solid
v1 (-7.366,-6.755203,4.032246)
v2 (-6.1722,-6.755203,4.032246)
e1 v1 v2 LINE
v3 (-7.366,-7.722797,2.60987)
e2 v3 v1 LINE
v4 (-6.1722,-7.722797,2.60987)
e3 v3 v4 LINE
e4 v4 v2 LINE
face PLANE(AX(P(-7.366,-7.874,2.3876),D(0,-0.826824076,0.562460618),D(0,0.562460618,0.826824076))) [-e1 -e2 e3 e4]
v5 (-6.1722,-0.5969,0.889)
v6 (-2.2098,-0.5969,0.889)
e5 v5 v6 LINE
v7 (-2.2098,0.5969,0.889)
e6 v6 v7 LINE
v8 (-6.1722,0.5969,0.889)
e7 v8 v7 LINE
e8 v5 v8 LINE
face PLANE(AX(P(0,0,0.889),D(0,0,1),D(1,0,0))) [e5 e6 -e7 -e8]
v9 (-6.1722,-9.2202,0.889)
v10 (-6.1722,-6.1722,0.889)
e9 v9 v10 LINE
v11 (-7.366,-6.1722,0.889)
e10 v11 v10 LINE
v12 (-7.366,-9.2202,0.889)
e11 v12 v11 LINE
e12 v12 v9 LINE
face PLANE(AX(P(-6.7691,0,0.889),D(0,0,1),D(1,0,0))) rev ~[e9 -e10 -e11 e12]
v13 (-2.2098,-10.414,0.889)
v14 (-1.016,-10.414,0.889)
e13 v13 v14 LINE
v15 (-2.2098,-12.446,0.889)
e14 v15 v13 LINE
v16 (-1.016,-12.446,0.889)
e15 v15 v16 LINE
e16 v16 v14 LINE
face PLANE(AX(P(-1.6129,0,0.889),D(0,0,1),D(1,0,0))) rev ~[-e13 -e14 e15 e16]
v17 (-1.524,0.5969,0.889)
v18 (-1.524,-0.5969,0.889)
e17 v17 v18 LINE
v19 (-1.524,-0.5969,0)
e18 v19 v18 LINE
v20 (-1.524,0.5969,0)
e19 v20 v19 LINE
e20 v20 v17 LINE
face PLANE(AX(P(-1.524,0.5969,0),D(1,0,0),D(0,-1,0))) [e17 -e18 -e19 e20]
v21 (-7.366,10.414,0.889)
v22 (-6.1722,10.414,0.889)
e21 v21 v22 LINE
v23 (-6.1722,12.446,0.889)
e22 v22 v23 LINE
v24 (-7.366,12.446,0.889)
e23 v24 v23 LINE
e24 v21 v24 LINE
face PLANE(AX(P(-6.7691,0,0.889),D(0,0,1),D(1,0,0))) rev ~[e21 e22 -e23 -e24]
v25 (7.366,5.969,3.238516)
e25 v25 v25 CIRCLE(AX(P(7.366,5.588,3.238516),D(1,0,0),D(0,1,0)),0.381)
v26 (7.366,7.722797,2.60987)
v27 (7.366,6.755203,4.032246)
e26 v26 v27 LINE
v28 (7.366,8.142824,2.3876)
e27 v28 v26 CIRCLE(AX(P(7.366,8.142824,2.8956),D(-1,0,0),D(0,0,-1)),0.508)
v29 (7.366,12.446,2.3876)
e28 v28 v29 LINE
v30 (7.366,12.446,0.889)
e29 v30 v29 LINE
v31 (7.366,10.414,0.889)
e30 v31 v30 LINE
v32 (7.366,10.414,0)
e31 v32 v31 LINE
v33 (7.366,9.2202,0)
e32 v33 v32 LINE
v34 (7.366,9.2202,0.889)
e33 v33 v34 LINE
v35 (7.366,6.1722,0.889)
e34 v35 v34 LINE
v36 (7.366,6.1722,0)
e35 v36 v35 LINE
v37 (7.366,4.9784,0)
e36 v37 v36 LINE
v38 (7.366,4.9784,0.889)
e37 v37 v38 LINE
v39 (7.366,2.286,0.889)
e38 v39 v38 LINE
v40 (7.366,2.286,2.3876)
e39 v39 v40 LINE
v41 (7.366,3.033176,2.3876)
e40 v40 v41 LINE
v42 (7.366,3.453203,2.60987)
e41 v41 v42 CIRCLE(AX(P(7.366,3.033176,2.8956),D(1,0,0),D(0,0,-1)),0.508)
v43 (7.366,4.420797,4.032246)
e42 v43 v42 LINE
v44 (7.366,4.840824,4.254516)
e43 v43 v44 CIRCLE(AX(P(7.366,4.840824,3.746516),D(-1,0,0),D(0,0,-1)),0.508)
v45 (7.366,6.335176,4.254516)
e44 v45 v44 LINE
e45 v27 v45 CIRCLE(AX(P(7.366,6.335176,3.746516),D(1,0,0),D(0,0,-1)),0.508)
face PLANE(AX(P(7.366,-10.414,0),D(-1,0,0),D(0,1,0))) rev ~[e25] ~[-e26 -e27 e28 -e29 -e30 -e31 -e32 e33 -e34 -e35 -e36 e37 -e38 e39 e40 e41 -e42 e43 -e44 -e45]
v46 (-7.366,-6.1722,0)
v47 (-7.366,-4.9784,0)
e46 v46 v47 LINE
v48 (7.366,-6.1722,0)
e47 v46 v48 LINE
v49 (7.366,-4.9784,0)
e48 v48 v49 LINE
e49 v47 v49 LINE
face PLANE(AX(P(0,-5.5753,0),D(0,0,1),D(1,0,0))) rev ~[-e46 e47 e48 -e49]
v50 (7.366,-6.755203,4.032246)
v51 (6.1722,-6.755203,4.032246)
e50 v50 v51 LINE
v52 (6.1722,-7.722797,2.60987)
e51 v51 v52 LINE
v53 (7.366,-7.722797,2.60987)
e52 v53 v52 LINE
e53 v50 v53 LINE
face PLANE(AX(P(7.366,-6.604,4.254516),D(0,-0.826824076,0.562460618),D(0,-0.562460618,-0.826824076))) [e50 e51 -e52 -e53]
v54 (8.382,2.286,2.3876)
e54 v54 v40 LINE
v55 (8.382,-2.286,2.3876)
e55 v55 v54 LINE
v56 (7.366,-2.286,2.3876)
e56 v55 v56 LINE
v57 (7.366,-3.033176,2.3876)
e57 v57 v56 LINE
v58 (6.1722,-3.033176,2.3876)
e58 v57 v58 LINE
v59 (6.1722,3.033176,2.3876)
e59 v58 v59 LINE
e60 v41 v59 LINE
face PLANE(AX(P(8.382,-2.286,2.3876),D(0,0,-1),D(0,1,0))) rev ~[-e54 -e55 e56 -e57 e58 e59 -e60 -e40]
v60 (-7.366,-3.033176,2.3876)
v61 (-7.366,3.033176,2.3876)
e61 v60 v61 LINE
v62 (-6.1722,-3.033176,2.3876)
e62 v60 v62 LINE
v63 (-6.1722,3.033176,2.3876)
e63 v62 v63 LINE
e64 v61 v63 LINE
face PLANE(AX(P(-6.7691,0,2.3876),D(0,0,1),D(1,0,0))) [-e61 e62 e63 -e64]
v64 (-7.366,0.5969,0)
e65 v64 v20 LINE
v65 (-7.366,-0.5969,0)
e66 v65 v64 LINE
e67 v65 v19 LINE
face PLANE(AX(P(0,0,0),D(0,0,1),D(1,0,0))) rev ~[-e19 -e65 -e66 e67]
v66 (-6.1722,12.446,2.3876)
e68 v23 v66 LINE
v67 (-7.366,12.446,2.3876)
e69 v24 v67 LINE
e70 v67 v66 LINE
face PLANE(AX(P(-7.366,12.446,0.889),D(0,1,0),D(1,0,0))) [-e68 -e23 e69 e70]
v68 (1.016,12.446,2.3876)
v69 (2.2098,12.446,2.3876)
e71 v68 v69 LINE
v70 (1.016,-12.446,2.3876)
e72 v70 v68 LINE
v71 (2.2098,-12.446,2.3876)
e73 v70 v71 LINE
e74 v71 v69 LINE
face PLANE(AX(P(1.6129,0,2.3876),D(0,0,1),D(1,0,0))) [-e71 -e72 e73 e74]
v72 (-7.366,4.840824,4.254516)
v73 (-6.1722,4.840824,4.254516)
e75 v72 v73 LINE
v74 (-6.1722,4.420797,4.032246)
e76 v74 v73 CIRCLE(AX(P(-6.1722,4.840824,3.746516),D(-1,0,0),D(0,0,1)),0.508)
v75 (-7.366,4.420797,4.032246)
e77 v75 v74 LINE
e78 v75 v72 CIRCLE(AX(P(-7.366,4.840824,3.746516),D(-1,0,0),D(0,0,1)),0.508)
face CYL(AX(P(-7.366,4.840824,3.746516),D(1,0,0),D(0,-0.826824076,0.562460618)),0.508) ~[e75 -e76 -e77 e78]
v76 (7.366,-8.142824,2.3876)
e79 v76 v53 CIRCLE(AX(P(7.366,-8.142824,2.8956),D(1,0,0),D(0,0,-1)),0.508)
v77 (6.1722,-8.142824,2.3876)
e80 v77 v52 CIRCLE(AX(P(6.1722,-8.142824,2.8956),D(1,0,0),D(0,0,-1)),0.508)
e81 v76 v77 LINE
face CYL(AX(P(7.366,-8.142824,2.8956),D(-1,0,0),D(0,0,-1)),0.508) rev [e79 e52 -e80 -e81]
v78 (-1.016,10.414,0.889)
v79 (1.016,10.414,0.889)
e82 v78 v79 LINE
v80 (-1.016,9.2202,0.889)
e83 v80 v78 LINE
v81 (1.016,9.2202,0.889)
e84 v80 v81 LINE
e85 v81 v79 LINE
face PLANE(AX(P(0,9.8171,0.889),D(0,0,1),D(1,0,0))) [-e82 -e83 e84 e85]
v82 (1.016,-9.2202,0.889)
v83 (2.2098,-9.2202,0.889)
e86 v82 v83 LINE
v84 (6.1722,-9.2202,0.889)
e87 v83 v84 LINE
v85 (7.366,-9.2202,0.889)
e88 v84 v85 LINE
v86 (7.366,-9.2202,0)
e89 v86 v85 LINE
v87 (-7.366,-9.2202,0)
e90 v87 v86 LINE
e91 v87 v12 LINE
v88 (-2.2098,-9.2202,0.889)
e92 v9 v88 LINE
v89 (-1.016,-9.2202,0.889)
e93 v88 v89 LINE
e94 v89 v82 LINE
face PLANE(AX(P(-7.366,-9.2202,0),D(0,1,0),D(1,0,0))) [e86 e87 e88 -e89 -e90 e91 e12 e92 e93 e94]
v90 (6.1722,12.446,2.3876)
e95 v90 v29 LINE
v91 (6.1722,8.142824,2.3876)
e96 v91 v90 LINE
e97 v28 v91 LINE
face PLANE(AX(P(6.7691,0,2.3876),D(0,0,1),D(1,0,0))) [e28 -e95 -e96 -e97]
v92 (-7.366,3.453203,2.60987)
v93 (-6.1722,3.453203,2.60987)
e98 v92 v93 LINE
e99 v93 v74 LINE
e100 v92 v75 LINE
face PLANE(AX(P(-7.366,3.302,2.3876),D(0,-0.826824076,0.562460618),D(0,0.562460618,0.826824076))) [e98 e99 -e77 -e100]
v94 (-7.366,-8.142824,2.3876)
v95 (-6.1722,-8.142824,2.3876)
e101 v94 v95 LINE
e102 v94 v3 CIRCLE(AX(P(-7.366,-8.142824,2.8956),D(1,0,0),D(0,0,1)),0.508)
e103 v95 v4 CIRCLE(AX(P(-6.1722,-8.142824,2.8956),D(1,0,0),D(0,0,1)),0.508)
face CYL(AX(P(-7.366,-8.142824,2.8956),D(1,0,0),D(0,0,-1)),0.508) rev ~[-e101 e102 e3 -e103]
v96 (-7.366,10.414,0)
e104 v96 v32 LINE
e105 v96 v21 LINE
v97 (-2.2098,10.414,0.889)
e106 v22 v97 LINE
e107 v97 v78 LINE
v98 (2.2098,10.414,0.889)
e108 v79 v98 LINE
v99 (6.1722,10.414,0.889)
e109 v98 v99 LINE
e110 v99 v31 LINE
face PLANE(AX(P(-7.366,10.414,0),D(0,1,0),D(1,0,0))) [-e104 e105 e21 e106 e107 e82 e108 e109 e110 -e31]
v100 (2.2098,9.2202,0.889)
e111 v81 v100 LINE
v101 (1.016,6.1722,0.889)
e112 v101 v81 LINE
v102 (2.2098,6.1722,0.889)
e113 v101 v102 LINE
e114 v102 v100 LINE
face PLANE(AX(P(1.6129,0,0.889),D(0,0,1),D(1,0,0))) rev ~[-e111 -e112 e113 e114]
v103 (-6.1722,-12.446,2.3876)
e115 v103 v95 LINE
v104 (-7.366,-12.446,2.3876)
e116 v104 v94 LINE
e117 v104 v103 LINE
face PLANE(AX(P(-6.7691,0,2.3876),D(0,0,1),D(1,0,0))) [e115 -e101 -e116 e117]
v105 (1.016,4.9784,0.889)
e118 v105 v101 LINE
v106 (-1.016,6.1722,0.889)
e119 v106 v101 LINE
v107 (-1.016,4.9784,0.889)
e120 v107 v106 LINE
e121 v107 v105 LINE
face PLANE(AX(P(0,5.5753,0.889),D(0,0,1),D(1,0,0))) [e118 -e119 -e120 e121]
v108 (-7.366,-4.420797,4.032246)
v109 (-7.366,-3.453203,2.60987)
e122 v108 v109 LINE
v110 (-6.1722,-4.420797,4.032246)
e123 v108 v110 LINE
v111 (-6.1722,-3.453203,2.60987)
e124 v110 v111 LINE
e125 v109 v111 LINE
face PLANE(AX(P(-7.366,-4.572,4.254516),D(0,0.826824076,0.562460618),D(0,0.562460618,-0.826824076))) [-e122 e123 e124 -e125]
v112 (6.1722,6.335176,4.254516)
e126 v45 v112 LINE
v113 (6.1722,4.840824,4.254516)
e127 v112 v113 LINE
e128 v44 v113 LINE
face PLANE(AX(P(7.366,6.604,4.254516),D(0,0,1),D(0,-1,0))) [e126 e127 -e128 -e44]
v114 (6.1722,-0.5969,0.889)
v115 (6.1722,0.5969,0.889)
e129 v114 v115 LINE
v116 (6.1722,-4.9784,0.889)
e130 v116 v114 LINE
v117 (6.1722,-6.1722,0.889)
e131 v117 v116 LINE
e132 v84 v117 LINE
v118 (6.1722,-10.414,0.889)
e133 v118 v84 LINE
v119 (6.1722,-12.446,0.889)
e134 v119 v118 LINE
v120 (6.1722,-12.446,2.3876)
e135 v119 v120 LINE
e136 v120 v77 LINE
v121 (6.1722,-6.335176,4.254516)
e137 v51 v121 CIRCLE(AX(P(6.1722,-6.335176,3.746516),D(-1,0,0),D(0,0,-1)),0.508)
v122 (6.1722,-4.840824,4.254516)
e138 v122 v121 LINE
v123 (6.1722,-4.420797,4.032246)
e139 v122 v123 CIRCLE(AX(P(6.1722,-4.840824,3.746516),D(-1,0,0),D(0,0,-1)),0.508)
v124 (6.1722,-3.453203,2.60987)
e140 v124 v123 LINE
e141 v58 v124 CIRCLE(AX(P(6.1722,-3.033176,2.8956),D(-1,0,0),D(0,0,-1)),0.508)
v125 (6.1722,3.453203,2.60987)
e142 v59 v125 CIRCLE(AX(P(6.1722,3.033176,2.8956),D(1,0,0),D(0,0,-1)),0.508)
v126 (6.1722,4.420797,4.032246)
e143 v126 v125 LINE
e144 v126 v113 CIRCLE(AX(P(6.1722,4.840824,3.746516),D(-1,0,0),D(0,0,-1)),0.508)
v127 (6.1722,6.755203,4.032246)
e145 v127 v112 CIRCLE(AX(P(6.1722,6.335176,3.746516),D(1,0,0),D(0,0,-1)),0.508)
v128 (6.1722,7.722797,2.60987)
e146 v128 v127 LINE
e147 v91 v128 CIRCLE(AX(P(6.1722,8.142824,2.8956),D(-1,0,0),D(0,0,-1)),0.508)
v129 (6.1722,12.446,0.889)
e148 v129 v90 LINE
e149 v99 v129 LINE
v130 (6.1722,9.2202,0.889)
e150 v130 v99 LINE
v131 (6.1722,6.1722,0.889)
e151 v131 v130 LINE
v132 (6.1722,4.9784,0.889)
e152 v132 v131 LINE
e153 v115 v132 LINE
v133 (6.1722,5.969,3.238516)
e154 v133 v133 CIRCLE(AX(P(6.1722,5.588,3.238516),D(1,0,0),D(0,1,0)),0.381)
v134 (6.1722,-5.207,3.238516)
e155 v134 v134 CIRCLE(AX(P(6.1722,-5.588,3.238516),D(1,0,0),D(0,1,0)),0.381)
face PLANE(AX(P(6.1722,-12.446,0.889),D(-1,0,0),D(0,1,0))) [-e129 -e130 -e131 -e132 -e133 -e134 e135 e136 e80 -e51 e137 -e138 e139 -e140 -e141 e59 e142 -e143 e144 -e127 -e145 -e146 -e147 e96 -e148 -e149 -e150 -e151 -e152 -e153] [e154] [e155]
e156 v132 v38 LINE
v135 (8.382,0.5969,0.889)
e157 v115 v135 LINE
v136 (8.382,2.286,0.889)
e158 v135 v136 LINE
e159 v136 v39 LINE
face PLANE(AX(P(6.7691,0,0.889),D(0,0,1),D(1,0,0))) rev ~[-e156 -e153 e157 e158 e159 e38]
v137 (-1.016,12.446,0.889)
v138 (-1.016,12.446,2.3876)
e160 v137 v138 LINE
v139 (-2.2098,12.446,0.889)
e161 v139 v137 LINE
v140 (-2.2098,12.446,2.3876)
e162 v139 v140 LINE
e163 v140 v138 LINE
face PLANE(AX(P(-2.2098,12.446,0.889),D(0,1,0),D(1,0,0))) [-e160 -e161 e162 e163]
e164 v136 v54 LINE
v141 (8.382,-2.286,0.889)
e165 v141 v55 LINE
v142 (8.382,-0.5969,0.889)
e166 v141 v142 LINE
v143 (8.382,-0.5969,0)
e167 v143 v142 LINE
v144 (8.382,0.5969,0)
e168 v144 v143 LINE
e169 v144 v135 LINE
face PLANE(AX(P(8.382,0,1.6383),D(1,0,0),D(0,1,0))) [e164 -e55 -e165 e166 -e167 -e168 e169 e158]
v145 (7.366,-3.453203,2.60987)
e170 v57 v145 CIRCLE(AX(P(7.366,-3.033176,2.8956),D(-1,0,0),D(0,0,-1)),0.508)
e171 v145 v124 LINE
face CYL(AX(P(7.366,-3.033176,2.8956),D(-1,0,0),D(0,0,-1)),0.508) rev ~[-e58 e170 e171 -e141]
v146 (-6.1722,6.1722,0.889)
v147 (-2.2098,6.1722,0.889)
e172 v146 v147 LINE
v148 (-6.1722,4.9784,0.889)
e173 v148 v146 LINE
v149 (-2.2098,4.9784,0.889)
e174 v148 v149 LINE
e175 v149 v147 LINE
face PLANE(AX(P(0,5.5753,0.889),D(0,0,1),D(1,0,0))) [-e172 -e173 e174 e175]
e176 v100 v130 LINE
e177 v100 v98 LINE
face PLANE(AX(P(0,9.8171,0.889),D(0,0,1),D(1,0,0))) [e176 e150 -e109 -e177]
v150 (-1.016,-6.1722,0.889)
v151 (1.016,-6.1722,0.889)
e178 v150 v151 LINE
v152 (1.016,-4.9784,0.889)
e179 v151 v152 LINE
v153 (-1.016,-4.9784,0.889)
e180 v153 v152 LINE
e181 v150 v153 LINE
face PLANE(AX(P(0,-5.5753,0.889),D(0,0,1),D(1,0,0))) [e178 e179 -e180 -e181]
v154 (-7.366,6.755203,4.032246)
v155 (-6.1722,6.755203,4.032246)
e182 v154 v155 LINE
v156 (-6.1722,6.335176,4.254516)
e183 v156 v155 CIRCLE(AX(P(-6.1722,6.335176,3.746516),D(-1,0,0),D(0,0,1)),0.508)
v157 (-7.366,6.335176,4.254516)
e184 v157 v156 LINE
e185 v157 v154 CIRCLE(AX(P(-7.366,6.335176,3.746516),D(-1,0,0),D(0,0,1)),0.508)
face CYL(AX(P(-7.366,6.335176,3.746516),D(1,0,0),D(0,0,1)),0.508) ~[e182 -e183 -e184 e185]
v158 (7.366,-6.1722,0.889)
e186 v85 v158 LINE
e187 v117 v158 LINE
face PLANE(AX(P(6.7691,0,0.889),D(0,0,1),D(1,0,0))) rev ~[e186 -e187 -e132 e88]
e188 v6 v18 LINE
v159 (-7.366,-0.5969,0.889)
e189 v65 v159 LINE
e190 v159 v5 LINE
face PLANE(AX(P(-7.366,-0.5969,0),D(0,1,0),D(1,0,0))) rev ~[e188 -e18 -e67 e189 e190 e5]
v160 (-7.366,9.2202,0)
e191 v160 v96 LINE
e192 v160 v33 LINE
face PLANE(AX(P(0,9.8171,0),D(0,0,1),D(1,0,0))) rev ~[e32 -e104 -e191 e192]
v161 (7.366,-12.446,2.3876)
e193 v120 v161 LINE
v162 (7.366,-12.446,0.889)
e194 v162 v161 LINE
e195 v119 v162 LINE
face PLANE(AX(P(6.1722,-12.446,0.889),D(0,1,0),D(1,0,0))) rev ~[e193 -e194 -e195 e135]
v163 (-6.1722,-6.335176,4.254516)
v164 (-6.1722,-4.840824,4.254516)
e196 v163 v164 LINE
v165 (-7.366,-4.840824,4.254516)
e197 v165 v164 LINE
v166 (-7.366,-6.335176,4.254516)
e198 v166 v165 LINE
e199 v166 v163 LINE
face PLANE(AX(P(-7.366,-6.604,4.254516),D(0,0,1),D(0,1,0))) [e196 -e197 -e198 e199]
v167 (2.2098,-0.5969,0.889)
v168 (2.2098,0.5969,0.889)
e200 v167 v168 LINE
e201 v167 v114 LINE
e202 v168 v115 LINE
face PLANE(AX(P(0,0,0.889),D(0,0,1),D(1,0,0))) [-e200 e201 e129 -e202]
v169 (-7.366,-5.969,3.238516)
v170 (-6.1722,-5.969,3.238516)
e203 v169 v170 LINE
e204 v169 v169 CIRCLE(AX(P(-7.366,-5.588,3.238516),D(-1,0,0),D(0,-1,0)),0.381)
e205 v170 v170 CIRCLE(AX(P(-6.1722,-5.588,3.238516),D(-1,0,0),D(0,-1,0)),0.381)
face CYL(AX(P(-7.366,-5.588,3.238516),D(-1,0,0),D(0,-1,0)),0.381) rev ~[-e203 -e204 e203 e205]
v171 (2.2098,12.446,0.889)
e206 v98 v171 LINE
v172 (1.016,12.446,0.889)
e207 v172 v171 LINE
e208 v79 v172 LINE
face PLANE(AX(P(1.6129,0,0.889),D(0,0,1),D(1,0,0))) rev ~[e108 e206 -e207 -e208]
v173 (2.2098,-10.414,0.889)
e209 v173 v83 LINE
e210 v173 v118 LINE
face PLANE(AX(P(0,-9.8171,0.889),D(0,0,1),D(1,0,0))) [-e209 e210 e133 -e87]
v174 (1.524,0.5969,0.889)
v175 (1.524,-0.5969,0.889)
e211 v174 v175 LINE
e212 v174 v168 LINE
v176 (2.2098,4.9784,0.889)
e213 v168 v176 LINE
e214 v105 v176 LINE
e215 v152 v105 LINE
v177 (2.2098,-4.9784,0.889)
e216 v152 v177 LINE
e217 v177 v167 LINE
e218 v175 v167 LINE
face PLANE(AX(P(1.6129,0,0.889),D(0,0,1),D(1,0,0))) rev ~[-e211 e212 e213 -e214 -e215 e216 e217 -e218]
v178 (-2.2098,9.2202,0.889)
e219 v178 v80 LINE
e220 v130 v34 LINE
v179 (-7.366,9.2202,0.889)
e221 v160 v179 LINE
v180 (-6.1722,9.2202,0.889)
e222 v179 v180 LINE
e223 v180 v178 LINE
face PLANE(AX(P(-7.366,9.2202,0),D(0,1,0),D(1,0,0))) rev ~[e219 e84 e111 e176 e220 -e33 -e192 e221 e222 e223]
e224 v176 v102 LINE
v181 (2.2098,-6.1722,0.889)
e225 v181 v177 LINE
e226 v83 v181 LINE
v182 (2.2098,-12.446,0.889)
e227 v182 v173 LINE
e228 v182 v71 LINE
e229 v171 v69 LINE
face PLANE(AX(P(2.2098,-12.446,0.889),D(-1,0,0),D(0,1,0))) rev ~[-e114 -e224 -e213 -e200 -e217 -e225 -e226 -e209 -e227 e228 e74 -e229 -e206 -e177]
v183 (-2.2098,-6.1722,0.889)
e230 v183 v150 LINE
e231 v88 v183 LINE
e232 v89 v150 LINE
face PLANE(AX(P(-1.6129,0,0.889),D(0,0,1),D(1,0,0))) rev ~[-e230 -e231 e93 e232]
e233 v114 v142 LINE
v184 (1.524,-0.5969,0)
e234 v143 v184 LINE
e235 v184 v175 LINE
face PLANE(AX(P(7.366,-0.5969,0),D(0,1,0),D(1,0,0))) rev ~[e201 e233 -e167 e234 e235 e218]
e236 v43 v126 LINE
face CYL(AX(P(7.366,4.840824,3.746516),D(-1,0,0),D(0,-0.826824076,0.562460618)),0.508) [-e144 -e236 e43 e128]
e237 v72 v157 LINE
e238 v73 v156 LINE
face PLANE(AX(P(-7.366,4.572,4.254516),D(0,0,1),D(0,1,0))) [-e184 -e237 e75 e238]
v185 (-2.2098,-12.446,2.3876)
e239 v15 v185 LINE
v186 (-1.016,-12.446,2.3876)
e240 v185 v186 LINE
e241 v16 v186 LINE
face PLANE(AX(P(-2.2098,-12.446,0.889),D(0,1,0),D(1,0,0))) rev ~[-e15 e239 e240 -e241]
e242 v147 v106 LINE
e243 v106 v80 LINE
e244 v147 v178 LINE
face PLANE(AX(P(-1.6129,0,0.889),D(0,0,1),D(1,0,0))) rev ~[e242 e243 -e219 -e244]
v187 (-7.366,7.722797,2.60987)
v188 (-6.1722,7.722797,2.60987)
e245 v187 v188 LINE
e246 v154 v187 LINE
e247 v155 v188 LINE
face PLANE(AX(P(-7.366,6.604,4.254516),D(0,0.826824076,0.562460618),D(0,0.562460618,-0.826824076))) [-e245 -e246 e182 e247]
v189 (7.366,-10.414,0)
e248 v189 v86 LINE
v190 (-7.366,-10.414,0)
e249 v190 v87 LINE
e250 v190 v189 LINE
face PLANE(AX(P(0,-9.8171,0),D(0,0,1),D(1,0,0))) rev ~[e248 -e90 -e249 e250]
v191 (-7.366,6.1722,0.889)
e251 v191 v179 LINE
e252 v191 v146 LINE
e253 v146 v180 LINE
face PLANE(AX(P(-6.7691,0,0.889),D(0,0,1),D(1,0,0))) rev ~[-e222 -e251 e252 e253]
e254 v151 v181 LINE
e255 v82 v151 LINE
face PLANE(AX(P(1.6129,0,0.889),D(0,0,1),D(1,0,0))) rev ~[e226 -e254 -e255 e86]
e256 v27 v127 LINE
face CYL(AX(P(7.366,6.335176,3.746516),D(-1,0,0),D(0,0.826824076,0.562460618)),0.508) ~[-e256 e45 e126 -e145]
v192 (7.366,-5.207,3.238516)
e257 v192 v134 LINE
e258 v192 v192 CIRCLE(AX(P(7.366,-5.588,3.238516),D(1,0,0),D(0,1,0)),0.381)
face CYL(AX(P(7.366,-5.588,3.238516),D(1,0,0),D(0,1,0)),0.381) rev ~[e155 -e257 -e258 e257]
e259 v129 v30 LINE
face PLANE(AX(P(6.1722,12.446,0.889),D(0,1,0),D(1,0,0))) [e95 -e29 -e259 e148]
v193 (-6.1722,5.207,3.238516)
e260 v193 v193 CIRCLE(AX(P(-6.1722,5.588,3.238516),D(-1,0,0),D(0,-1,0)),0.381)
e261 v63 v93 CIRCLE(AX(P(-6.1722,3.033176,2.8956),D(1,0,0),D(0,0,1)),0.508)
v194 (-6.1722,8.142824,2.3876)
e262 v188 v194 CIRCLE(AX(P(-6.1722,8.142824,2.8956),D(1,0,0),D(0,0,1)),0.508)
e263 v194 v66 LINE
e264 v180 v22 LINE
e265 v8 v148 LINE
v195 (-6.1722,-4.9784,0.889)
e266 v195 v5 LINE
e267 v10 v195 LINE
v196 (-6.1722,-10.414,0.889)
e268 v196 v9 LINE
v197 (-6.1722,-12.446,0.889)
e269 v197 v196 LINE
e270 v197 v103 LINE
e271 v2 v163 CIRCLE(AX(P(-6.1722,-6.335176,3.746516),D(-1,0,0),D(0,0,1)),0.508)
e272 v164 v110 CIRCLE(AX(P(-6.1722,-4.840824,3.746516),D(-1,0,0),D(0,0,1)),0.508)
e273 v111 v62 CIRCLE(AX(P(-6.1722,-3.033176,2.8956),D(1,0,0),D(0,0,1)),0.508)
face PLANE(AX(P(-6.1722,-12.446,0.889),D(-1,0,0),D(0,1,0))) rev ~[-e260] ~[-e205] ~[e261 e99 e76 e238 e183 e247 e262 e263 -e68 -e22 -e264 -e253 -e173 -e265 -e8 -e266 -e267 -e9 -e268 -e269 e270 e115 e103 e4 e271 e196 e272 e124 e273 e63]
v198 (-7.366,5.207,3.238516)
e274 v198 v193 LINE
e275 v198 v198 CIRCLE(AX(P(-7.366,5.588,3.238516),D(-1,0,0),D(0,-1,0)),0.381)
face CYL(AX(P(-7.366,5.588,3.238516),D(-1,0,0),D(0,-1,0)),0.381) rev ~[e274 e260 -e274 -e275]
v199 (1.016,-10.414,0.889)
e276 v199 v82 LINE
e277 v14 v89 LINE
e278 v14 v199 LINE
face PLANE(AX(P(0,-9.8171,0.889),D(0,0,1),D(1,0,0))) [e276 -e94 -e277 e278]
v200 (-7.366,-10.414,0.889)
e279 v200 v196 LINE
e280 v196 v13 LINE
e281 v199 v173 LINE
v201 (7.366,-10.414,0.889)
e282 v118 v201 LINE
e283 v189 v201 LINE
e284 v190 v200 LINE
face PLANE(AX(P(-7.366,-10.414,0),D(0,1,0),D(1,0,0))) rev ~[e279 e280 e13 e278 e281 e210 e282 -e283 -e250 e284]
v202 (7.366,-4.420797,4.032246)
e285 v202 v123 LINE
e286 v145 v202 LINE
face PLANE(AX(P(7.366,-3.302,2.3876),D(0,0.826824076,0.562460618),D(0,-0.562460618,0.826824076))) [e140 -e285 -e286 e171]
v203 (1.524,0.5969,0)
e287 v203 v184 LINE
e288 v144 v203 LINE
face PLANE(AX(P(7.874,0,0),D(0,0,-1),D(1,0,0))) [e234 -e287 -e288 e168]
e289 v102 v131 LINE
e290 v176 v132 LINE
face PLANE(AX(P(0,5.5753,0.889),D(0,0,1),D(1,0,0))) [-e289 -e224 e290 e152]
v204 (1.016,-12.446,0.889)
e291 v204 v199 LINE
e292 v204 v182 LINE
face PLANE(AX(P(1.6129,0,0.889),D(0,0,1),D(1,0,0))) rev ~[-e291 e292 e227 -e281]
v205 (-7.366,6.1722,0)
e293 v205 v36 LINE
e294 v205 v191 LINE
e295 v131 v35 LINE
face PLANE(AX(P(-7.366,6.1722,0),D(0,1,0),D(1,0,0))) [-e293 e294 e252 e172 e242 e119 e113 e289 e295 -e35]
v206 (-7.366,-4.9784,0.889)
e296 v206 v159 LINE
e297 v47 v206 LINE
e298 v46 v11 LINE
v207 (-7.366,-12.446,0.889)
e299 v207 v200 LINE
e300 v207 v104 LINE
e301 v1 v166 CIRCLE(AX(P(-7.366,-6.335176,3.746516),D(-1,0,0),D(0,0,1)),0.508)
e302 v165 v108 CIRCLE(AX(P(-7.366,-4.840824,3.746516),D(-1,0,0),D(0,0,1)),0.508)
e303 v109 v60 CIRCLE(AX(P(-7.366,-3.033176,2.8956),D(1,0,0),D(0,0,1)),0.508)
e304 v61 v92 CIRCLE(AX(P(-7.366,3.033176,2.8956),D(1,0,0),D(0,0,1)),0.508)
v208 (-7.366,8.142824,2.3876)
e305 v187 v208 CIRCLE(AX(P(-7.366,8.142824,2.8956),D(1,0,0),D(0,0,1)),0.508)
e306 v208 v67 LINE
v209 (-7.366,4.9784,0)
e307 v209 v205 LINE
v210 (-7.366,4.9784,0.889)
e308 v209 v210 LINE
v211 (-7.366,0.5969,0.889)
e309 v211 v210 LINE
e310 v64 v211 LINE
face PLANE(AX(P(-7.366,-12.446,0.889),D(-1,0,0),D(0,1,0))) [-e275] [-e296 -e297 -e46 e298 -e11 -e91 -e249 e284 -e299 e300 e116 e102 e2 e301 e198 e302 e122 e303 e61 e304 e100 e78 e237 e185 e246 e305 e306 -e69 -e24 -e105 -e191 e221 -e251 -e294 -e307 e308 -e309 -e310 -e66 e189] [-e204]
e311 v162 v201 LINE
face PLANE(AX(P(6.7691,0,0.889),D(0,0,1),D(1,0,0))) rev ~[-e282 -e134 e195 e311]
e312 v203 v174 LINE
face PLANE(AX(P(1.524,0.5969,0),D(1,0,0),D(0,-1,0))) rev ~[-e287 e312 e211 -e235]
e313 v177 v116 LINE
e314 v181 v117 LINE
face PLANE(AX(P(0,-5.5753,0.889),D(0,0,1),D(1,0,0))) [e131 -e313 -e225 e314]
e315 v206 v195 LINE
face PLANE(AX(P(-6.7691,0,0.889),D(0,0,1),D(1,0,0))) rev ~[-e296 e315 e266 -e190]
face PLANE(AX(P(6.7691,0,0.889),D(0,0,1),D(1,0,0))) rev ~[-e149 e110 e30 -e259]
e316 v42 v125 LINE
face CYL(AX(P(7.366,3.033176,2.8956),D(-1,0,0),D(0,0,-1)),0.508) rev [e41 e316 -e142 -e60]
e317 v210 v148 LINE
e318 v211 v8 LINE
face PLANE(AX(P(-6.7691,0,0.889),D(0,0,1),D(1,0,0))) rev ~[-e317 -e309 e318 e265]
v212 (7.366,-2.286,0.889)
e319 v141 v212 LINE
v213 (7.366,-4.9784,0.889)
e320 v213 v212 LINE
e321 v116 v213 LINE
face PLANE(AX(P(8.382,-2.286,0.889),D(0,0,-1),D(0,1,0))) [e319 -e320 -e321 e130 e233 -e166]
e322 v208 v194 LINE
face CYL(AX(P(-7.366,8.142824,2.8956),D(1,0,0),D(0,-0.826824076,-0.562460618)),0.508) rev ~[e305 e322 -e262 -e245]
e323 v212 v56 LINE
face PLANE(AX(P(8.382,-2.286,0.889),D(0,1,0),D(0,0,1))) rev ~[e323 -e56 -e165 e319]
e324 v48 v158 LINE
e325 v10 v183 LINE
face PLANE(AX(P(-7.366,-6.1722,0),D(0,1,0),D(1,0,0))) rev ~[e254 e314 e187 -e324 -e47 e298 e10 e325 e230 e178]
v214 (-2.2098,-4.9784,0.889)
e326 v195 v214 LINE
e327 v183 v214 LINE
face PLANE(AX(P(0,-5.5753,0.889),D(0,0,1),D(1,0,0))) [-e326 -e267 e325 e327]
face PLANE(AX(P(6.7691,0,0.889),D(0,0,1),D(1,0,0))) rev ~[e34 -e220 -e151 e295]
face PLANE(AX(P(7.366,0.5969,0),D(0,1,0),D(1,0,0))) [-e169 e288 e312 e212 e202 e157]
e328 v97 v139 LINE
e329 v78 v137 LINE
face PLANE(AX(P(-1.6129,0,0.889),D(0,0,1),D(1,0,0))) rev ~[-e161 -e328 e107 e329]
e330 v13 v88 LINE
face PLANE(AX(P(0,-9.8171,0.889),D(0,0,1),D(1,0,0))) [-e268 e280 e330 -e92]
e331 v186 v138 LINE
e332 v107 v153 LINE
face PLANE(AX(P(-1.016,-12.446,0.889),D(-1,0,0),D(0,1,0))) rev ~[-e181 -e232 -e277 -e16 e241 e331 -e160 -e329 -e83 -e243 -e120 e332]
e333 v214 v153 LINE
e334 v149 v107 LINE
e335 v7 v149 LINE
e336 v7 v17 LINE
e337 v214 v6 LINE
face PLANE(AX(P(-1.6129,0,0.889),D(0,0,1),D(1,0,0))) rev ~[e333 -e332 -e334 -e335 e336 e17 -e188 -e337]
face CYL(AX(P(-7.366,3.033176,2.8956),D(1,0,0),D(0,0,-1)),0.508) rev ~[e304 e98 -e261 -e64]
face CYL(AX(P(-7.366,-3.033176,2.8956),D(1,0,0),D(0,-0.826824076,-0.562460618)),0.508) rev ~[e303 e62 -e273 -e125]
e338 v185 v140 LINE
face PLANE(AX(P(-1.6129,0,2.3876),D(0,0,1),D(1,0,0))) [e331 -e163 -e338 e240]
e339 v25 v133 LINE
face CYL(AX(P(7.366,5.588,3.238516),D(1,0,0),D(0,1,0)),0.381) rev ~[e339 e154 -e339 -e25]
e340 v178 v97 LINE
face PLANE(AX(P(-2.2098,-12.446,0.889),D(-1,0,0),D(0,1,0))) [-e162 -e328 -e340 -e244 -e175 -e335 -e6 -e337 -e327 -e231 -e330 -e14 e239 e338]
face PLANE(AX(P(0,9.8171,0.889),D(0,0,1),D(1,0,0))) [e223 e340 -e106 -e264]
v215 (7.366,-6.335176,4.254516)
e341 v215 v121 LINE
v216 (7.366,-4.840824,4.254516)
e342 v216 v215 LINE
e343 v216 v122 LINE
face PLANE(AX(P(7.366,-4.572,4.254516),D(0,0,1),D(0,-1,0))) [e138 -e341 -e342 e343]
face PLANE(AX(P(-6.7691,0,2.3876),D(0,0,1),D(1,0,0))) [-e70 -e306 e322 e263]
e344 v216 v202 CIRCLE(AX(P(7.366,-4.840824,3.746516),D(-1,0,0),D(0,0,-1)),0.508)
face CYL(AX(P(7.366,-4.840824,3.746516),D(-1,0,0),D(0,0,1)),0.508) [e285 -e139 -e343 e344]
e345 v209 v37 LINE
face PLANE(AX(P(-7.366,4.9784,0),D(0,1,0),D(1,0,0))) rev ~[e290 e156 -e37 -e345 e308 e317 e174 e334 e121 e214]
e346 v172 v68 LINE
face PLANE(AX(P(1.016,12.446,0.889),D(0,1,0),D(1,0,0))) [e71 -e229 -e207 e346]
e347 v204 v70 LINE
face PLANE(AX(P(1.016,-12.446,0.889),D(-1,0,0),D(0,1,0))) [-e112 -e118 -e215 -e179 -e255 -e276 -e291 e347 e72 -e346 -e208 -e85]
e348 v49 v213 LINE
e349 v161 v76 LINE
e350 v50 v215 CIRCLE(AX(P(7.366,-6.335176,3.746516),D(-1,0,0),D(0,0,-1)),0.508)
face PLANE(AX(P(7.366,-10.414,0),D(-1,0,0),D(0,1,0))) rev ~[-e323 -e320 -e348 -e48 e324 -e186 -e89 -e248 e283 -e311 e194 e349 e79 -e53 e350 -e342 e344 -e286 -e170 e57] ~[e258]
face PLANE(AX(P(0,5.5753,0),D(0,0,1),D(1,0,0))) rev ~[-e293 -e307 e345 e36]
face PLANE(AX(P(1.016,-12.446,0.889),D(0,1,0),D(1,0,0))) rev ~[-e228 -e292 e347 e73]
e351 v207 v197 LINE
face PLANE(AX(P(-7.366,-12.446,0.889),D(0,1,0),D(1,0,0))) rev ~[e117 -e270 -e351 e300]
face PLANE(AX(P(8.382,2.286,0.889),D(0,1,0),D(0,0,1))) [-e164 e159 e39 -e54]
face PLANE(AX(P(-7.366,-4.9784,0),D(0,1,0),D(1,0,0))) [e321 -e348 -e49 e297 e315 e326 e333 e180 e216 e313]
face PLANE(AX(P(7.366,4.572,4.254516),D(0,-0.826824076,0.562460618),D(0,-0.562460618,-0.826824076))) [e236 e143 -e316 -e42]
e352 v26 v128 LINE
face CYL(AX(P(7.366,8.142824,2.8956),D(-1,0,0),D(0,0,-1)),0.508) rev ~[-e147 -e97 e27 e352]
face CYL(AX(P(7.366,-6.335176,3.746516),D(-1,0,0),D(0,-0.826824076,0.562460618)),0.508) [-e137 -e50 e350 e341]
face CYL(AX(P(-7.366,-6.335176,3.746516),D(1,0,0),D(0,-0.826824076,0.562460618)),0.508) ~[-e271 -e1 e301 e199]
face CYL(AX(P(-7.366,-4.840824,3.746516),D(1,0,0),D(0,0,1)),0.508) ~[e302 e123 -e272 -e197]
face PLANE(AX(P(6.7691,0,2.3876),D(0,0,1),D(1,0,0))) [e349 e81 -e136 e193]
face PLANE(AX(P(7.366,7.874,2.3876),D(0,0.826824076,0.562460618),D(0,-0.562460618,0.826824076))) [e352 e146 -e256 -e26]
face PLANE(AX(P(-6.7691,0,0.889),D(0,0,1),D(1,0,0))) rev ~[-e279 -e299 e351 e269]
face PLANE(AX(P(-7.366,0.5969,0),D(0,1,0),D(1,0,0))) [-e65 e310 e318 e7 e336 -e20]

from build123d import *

# Parameters (mm, degrees)
F0_W      = 14.732
F0_H      = 1.1938
F1_DEPTH  = 0.889
F2_W      = 1.1938
F2_H      = 24.892
F3_DEPTH  = 1.4986
F4_R      = 0.381
F5_DEPTH  = 1.1938
F6_R      = 0.381
F7_DEPTH  = 1.1938
F8_R      = 0.508
F9_W      = 3.048
F9_H      = 1.1938
F10_DEPTH = 0.889
F11_W     = 1.016
F11_H     = 1.1938
F12_DEPTH = 2.3876
F13_W     = 4.572
F13_H     = 1.4986
F14_DEPTH = 1.016


with BuildPart() as f1:
    # F0 (on Top) → F1 (new body)
    with BuildSketch(Plane.XY):
        with Locations((0, 9.8171)):
            Rectangle(F0_W, F0_H)
    extrude(amount=F1_DEPTH)



with BuildPart() as f1b:
    # F0 (on Top) → F1, piece 2 (new body)
    with BuildSketch(Plane.XY):
        with Locations((0, -9.8171)):
            Rectangle(F0_W, F0_H)
    extrude(amount=F1_DEPTH)


with BuildPart() as f1c:
    # F0 (on Top) → F1, piece 3 (new body)
    with BuildSketch(Plane.XY):
        with Locations((0, -5.5753)):
            Rectangle(F0_W, F0_H)
    extrude(amount=F1_DEPTH)


with BuildPart() as f1d:
    # F0 (on Top) → F1, piece 4 (new body)
    with BuildSketch(Plane.XY):
        Rectangle(F0_W, F0_H)
    extrude(amount=F1_DEPTH)


with BuildPart() as f1e:
    # F0 (on Top) → F1, piece 5 (new body)
    with BuildSketch(Plane.XY):
        with Locations((0, 5.5753)):
            Rectangle(F0_W, F0_H)
    extrude(amount=F1_DEPTH)


with BuildPart() as f1_1:
    add(f1.part)

    add(f1b.part)  # F3 merges F1b

    add(f1c.part)  # F3 merges F1c

    add(f1d.part)  # F3 merges F1d

    add(f1e.part)  # F3 merges F1e
    # F2 (on face) → F3 (join)
    with BuildSketch(Plane.XY.offset(0.889)):
        with Locations((-6.7691, 0)):
            Rectangle(F2_W, F2_H)
        with Locations((6.7691, 0)):
            Rectangle(F2_W, F2_H)
        with Locations((-1.6129, 0)):
            Rectangle(F2_W, F2_H)
        with Locations((1.6129, 0)):
            Rectangle(F2_W, F2_H)
    extrude(amount=F3_DEPTH)

    # F4 (on face) → F5 (join)
    with BuildSketch(Plane(origin=(-7.366, 0, 0), x_dir=(0, -1, 0), z_dir=(-1, 0, 0))):
        Polygon((-6.604, 4.2545157337), (-7.874, 2.3876), (-3.302, 2.3876), (-4.572, 4.2545157337), align=None)
        with Locations((-5.588, 3.2385157337)):
            Circle(F4_R, mode=Mode.SUBTRACT)
        Polygon((4.572, 4.2545157337), (3.302, 2.3876), (7.874, 2.3876), (6.604, 4.2545157337), align=None)
        with Locations((5.588, 3.2385157337)):
            Circle(F4_R, mode=Mode.SUBTRACT)
    extrude(amount=-F5_DEPTH)

    # F6 (on face) → F7 (join)
    with BuildSketch(Plane.YZ.offset(7.366)):
        Polygon((-6.604, 4.2545157337), (-7.874, 2.3876), (-3.302, 2.3876), (-4.572, 4.2545157337), align=None)
        with Locations((-5.588, 3.2385157337)):
            Circle(F6_R, mode=Mode.SUBTRACT)
        Polygon((3.302, 2.3876), (7.874, 2.3876), (6.604, 4.2545157337), (4.572, 4.2545157337), align=None)
        with Locations((5.588, 3.2385157337)):
            Circle(F6_R, mode=Mode.SUBTRACT)
    extrude(amount=-F7_DEPTH)

    # F8
    f8_edges = [f1_1.edges().sort_by_distance(p)[0] for p in [
        (6.7691, -4.572, 4.254516),
        (6.7691, -6.604, 4.254516),
        (6.7691, -3.302, 2.3876),
        (6.7691, -7.874, 2.3876),
        (6.7691, 4.572, 4.254516),
        (6.7691, 3.302, 2.3876),
        (6.7691, 6.604, 4.254516),
        (6.7691, 7.874, 2.3876),
        (-6.7691, 7.874, 2.3876),
        (-6.7691, 6.604, 4.254516),
        (-6.7691, 4.572, 4.254516),
        (-6.7691, 3.302, 2.3876),
        (-6.7691, -7.874, 2.3876),
        (-6.7691, -6.604, 4.254516),
        (-6.7691, -4.572, 4.254516),
        (-6.7691, -3.302, 2.3876),
    ]]
    fillet(f8_edges, radius=F8_R)

    # F9 (on face) → F10 (cut, through all)
    with BuildSketch(Plane(origin=(0, 0, 0), x_dir=(1, 0, 0), z_dir=(0, 0, -1))):
        Rectangle(F9_W, F9_H)
    extrude(amount=-F10_DEPTH, mode=Mode.SUBTRACT)

    # F11 (on face) → F12 (join, through all)
    with BuildSketch(Plane(origin=(0, 0, 0), x_dir=(1, 0, 0), z_dir=(0, 0, -1))):
        with Locations((7.874, 0)):
            Rectangle(F11_W, F11_H)
    extrude(amount=-F12_DEPTH)

    # F13 (on face) → F14 (join, through all)
    with BuildSketch(Plane.YZ.offset(8.382)):
        with Locations((0, 1.6383)):
            Rectangle(F13_W, F13_H)
    extrude(amount=-F14_DEPTH)


solid = f1_1.part
